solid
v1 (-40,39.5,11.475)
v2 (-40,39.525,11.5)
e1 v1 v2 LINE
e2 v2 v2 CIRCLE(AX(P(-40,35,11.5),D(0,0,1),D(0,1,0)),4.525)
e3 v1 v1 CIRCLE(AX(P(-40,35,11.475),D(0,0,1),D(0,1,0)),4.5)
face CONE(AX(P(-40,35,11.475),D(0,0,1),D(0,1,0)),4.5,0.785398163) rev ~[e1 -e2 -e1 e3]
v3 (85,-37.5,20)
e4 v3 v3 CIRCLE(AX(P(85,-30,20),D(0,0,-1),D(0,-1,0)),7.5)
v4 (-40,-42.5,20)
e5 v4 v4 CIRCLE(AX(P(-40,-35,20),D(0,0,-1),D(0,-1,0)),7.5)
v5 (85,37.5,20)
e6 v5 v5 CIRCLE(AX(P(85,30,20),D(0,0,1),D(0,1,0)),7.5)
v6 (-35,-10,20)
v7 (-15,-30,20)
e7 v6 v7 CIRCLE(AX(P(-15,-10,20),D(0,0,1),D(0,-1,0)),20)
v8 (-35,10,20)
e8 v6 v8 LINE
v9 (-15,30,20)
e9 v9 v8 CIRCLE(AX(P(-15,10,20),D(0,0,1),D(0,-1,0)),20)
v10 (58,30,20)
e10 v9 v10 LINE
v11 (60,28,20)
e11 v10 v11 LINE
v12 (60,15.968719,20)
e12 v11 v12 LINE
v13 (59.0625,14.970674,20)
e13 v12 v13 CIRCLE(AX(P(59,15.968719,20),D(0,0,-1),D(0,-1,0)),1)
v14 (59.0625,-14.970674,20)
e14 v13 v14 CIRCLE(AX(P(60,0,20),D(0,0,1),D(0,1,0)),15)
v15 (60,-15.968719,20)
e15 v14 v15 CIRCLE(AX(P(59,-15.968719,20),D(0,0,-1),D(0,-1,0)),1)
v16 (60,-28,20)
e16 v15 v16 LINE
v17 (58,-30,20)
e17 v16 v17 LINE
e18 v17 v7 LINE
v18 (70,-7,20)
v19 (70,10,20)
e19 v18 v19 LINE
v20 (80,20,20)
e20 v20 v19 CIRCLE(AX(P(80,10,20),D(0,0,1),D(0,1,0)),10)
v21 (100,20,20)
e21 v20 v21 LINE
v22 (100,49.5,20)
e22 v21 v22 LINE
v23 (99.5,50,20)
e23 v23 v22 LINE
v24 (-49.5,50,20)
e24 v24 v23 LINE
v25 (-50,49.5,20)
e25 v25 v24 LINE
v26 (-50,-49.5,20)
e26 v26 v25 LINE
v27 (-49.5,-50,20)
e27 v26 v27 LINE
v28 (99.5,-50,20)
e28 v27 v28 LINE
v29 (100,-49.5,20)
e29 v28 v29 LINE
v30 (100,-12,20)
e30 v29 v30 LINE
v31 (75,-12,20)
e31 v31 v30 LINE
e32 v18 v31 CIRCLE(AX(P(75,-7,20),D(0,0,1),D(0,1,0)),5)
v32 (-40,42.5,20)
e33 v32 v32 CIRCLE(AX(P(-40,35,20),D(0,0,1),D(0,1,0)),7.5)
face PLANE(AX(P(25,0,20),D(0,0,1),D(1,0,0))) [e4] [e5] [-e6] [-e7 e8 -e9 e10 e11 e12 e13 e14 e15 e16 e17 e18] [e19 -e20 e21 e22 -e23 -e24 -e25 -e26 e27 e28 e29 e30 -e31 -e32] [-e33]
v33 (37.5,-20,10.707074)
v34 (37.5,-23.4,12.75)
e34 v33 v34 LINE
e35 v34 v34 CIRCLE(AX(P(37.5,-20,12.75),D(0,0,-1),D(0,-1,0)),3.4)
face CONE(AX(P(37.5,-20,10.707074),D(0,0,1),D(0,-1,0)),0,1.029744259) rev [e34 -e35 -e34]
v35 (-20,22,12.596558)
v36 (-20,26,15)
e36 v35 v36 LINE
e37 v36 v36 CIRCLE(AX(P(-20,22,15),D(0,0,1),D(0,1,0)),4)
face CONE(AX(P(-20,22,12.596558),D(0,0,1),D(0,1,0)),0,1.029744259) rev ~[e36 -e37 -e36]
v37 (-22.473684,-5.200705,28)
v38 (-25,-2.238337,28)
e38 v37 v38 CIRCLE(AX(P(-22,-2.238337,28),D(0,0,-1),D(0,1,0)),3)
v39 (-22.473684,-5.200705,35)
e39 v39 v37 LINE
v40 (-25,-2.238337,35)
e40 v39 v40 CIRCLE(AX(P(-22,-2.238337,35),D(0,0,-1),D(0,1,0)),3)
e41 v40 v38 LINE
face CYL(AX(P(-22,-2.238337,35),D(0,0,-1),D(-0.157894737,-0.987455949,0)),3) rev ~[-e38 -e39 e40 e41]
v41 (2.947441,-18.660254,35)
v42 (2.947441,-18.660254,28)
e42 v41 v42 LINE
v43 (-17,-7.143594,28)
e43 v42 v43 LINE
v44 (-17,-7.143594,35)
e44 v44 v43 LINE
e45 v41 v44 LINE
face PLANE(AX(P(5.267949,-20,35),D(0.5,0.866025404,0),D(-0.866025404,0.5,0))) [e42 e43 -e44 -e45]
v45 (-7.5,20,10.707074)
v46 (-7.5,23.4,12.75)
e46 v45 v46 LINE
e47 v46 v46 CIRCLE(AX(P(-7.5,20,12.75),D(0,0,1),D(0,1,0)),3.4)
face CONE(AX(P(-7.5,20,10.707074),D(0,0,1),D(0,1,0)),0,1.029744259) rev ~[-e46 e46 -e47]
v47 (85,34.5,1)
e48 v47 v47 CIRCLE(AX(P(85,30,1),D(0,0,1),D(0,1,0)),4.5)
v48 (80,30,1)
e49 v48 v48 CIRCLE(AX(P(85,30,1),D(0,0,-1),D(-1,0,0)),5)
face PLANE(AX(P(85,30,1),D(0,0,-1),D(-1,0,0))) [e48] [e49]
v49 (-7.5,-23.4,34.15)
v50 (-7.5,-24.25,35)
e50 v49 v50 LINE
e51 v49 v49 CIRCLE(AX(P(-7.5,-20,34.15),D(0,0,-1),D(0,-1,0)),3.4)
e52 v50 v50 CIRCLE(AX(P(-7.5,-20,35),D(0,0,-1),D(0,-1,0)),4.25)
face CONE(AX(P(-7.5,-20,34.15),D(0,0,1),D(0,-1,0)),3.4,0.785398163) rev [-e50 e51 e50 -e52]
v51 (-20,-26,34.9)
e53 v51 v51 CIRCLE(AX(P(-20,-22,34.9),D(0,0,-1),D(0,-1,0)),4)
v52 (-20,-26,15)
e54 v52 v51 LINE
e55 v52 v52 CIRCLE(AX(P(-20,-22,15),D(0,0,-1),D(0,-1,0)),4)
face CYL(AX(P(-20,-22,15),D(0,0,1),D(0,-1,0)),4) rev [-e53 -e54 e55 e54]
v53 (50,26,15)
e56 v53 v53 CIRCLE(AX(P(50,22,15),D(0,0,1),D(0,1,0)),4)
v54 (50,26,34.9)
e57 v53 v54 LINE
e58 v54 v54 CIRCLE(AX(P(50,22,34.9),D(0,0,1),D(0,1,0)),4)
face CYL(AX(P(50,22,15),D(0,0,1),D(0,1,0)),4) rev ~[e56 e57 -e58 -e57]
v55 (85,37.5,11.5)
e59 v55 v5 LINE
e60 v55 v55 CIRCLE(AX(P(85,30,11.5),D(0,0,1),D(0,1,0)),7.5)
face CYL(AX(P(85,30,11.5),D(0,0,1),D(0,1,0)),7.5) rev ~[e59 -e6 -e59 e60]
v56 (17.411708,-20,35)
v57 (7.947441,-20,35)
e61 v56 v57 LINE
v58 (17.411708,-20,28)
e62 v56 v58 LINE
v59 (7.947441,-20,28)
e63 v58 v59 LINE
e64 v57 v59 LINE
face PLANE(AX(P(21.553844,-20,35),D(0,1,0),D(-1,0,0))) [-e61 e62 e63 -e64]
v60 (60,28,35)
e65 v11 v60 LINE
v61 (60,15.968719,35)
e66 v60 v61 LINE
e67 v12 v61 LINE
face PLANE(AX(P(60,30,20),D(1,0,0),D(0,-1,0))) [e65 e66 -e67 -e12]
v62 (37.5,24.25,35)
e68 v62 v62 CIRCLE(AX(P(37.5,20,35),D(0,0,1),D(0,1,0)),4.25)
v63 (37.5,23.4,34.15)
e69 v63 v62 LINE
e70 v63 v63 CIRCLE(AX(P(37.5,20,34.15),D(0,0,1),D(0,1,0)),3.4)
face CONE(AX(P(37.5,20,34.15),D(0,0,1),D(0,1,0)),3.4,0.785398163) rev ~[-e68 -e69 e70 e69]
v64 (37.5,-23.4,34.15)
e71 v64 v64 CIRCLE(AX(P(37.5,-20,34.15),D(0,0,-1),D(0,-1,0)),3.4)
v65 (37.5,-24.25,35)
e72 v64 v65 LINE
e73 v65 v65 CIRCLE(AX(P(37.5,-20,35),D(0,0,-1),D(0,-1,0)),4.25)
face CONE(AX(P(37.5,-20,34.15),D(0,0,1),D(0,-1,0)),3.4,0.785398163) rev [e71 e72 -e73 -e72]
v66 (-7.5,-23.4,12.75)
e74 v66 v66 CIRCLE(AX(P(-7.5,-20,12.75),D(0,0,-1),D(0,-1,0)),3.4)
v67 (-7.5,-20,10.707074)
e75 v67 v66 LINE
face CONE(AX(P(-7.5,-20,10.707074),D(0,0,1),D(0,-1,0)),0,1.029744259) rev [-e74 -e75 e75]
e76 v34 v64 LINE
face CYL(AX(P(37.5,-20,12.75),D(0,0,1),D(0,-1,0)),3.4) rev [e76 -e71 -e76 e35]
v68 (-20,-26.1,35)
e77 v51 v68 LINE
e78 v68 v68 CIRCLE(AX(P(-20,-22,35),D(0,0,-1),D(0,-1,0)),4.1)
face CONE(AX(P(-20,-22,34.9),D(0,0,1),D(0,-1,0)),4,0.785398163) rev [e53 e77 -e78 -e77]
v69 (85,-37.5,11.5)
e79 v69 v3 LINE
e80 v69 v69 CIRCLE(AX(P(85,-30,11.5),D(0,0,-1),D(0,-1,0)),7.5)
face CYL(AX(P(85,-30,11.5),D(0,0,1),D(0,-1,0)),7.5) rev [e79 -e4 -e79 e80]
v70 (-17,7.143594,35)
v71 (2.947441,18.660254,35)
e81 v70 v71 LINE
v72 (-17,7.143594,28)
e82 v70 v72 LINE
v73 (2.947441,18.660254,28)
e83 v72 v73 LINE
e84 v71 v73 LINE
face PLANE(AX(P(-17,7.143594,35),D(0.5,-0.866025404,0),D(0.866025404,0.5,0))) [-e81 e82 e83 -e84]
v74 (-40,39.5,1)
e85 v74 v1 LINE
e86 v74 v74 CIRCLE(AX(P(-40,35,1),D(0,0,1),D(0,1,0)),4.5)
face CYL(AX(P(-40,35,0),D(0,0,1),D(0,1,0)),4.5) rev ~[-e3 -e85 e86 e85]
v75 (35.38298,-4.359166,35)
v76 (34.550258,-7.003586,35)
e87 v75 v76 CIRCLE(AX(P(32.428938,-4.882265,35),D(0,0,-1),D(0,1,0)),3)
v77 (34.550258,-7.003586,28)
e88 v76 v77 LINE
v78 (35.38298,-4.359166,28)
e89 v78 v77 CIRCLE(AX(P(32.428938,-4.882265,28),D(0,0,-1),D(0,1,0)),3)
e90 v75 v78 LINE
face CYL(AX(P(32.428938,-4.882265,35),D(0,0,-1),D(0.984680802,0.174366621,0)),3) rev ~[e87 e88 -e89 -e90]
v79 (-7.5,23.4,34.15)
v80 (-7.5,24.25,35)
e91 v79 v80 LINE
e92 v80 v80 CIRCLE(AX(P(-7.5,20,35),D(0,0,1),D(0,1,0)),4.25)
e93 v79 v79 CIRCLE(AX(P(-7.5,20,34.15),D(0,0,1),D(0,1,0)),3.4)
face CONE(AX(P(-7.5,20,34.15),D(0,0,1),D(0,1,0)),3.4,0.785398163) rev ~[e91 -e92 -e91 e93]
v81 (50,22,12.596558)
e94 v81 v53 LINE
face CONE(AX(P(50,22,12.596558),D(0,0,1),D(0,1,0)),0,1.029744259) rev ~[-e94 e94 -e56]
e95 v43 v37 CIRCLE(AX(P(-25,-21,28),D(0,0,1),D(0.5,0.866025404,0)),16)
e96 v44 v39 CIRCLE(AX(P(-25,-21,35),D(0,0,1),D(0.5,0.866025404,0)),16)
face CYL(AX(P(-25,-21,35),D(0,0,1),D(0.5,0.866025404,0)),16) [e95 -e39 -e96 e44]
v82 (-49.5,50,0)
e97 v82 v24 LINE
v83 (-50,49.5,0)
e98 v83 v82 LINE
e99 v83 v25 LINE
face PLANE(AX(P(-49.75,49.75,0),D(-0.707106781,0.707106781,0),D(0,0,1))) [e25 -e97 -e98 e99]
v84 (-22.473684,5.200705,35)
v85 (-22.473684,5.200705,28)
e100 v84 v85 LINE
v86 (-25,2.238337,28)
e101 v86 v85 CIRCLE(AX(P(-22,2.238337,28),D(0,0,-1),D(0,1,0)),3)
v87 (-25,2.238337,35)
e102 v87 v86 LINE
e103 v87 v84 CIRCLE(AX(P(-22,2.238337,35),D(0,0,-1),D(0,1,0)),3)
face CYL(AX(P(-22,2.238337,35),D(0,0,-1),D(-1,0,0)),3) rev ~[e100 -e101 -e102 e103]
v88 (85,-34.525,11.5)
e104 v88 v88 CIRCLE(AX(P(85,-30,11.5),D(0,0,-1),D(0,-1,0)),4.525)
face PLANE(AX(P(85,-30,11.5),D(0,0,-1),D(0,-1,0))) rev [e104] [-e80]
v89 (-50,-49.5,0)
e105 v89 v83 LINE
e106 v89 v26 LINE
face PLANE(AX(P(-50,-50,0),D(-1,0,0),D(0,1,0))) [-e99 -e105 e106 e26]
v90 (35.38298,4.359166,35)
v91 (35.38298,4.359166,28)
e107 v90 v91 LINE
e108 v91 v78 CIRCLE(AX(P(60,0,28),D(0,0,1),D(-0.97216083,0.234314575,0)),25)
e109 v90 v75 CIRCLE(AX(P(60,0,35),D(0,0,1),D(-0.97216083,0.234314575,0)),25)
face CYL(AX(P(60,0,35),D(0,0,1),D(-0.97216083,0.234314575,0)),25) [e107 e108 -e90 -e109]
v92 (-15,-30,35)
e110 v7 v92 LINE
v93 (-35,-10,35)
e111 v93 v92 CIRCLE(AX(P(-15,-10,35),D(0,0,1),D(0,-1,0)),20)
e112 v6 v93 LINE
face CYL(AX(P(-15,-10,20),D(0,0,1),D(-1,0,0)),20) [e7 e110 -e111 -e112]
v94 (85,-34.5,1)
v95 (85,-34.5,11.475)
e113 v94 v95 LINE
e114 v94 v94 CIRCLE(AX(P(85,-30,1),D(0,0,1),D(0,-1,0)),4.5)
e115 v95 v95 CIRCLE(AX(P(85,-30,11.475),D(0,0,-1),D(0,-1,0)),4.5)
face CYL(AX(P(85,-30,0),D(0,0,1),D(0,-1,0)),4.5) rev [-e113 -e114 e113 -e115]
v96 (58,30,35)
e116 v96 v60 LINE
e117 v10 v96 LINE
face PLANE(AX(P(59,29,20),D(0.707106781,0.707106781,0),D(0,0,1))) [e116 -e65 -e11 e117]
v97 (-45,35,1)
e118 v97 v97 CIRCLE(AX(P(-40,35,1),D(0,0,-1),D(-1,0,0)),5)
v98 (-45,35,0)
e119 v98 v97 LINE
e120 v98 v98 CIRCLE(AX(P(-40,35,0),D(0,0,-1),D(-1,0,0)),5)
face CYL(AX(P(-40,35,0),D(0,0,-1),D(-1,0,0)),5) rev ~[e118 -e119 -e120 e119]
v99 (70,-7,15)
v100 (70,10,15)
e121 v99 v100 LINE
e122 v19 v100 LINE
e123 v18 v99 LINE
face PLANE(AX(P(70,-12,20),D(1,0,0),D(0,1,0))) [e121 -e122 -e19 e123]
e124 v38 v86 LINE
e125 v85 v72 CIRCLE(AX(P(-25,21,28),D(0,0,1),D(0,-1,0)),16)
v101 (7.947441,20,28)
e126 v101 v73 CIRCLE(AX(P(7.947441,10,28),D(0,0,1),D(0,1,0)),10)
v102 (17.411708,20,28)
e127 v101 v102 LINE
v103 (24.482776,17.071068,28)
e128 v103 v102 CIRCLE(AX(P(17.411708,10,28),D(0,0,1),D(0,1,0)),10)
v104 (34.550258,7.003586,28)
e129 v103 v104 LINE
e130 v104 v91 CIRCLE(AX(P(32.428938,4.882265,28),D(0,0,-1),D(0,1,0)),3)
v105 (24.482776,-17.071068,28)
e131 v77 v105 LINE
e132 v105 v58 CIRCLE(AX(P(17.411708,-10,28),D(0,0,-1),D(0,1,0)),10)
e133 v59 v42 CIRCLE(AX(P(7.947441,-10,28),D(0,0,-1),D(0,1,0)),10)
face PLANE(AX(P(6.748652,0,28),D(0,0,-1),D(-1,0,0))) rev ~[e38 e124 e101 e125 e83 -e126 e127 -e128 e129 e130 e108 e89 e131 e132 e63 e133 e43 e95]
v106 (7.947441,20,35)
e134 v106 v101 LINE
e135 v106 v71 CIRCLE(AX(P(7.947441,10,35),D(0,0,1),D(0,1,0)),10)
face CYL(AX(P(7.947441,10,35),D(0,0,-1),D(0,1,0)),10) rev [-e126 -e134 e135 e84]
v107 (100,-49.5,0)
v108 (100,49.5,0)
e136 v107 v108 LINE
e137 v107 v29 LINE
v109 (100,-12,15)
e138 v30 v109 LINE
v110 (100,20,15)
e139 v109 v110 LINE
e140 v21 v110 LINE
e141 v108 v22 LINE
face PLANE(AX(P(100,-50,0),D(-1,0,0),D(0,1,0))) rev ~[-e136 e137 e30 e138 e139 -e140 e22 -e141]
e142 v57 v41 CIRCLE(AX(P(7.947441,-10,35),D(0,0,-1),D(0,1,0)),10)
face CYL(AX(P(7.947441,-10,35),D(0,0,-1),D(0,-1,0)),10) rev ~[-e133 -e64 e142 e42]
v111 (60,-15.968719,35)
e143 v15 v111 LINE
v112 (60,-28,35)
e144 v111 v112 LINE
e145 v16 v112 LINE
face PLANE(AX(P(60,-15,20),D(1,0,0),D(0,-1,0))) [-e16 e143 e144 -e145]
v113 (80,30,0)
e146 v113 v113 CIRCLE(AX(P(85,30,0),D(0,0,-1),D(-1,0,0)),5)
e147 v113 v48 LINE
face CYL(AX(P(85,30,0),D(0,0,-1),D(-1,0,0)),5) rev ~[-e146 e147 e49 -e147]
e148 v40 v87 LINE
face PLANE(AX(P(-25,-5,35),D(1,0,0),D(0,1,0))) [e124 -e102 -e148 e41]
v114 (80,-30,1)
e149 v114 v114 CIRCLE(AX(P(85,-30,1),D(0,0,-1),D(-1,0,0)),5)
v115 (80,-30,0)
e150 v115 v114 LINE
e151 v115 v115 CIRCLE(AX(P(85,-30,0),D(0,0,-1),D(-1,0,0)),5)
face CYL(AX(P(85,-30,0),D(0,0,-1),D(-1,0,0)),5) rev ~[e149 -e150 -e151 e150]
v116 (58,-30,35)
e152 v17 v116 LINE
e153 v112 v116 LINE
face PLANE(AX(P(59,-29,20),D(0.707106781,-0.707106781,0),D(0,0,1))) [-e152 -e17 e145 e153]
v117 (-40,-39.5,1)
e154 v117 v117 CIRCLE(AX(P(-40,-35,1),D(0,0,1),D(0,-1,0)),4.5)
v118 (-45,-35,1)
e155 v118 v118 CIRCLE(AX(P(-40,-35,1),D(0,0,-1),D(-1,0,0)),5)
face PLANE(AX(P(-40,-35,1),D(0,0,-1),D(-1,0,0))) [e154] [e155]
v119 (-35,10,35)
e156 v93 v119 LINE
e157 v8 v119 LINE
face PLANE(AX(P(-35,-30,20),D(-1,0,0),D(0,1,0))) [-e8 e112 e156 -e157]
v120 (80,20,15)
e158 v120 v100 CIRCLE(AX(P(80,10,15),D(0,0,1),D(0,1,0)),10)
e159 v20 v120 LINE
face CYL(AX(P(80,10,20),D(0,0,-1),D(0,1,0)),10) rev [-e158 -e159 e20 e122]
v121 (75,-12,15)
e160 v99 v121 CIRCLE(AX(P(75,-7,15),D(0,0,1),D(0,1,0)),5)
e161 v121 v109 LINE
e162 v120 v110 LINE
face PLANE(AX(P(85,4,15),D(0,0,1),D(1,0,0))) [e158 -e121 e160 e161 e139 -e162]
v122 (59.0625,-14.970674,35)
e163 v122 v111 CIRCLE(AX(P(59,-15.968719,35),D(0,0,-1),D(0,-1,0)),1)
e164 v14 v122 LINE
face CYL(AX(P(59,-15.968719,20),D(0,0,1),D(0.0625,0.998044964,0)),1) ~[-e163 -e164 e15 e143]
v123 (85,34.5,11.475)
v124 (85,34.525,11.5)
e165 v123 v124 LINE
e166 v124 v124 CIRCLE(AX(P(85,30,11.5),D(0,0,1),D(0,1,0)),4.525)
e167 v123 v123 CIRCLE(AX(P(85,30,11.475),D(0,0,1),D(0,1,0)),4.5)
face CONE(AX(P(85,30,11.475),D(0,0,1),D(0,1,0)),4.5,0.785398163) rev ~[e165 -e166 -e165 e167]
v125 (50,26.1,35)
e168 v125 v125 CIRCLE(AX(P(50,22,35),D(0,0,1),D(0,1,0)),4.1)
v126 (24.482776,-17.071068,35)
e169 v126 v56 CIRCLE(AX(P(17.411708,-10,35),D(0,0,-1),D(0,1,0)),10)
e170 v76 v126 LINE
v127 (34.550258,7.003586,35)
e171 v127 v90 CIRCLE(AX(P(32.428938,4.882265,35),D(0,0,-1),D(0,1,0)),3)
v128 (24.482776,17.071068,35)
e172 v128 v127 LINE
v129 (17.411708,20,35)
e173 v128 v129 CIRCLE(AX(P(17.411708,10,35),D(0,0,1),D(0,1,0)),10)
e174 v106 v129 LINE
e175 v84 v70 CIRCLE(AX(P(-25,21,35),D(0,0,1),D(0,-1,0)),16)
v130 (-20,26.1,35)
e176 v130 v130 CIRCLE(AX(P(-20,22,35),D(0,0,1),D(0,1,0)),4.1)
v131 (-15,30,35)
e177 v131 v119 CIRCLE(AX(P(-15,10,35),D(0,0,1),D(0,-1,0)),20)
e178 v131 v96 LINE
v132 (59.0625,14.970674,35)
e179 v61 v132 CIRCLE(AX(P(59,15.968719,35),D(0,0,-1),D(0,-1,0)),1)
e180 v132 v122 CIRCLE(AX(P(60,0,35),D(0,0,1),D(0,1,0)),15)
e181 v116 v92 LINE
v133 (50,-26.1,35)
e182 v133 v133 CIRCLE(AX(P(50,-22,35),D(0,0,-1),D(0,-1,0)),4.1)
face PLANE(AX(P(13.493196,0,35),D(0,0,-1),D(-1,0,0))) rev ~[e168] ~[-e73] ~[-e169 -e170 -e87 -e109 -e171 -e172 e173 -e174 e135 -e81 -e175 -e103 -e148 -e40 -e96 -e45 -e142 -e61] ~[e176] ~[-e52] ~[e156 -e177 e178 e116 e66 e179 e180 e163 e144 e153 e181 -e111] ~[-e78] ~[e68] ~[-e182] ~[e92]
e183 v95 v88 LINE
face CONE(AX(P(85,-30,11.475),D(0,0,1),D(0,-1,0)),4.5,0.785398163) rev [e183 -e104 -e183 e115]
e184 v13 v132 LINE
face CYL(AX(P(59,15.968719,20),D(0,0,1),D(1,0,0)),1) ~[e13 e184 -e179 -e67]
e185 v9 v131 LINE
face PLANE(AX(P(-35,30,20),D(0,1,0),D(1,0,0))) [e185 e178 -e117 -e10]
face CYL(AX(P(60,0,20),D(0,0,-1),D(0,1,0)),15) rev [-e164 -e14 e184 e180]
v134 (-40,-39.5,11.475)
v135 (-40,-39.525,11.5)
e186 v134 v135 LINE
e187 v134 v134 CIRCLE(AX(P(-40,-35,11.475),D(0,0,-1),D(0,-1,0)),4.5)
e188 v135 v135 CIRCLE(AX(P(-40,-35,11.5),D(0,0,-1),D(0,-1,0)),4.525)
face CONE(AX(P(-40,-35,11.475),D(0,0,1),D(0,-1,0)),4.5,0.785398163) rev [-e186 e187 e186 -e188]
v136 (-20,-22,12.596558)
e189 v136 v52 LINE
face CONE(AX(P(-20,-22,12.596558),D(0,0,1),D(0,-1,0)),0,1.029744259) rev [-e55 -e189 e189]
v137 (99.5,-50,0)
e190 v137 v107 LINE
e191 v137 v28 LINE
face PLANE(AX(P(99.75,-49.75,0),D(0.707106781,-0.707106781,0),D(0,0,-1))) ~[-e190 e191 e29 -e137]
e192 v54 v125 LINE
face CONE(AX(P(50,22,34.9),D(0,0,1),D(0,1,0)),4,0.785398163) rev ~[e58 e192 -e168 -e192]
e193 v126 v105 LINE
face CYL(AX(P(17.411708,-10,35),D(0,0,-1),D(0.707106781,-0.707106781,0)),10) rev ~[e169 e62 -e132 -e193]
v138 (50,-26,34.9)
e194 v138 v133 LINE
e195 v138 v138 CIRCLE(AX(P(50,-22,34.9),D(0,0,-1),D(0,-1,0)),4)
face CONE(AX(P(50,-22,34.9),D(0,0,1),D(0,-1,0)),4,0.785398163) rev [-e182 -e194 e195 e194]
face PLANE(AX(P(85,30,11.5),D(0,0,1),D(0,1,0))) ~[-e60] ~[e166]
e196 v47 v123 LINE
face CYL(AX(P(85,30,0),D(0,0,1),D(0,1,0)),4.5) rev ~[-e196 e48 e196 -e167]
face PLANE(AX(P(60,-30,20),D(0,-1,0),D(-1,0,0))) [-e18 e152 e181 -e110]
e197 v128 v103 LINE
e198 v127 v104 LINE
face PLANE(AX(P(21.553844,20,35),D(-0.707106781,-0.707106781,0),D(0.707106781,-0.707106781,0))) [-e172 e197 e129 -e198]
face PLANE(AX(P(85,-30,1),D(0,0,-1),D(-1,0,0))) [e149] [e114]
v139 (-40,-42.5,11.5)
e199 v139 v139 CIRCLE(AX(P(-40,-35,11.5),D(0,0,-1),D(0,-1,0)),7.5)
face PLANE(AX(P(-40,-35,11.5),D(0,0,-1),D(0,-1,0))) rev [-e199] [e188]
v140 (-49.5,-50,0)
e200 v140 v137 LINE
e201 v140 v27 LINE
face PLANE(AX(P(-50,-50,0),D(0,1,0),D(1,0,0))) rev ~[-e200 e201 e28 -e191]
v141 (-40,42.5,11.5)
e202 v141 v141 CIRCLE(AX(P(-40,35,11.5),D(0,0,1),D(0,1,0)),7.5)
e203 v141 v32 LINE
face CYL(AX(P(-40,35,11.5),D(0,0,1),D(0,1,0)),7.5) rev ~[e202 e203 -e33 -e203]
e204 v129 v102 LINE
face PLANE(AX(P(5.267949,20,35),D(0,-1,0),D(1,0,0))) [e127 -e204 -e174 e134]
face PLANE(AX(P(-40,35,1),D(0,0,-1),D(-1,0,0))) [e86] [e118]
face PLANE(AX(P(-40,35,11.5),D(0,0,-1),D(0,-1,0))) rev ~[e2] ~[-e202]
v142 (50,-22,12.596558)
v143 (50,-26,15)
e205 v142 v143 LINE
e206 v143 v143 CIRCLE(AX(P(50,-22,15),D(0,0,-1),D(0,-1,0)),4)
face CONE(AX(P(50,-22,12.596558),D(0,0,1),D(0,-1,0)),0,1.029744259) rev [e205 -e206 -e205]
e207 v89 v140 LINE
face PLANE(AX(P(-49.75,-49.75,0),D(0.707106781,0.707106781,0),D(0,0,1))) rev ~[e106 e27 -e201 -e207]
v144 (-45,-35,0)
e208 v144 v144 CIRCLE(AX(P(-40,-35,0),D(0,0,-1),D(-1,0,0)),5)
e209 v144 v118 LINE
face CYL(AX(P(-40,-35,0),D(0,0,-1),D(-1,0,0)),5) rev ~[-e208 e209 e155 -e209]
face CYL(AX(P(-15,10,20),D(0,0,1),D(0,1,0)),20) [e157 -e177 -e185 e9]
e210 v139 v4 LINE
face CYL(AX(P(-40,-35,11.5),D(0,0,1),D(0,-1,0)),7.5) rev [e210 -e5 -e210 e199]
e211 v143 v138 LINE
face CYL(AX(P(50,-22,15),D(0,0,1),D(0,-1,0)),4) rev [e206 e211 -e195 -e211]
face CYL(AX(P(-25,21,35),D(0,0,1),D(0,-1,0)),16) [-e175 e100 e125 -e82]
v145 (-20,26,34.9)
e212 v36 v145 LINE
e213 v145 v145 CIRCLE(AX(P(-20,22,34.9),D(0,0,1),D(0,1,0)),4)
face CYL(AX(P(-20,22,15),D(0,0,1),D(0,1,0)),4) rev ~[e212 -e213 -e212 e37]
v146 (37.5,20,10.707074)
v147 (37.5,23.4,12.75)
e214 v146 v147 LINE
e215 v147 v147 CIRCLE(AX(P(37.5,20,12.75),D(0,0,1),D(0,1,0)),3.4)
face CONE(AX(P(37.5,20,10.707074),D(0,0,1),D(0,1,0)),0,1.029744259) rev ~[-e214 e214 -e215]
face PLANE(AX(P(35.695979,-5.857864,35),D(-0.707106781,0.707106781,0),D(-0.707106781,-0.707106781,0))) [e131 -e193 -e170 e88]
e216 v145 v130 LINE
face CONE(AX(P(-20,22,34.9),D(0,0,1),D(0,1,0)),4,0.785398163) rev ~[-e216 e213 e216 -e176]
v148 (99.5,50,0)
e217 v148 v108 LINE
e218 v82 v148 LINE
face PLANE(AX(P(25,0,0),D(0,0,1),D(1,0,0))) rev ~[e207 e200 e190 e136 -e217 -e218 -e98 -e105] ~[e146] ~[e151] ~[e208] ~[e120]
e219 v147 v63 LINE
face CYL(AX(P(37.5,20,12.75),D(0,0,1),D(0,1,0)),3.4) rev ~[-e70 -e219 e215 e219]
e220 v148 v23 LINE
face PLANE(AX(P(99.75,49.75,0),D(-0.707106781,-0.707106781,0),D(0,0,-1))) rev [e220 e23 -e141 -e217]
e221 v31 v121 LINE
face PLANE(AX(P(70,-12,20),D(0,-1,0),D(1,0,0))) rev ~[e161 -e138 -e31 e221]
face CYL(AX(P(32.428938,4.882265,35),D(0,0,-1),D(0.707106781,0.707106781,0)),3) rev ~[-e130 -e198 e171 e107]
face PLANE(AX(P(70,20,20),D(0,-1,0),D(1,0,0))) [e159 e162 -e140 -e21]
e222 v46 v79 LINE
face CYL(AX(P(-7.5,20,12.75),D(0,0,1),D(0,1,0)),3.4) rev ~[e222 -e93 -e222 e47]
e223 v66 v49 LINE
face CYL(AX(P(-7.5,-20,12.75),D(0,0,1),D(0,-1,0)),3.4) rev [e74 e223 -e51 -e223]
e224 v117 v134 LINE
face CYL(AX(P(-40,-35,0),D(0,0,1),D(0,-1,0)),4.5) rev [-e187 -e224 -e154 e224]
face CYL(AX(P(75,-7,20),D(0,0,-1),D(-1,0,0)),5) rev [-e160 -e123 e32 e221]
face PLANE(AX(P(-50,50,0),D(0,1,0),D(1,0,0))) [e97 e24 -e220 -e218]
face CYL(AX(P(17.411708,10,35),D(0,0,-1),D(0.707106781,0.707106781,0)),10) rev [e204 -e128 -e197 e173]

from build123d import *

# Parameters (mm, degrees)
SKETCH1_W                                    = 150
SKETCH1_H                                    = 100
EXTRUDE1_DEPTH                               = 20
EXTRUDE2_DEPTH                               = 15
FILLET1_R                                    = 20
CBORE_FOR_M8_HEX_SOCKET_HEAD_CAP_SCR_2_COUNT = 2
CBORE_FOR_M8_HEX_SOCKET_HEAD_CAP_SCR_2_PITCH = 125.099960032
M8_TAPPED_HOLE1_AT_2_COUNT                   = 2
M8_TAPPED_HOLE1_AT_2_PITCH                   = 45
F_8_0_8_DIAMETER_HOLE1_AT_2_COUNT            = 2
F_8_0_8_DIAMETER_HOLE1_AT_2_PITCH            = 70
EXTRUDE3_DEPTH                               = 7
FILLET2_R                                    = 3
FILLET3_R                                    = 10
CHAMFER1_SIZE                                = 0.5
CHAMFER2_SIZE                                = 2
FILLET4_R                                    = 1
SKETCH10_W                                   = 30
SKETCH10_H                                   = 32
EXTRUDE4_DEPTH                               = 5
FILLET5_R                                    = 10
FILLET6_R                                    = 5
SKETCH11_R                                   = 5
EXTRUDE5_DEPTH                               = 1


with BuildPart() as part:
    # Sketch1 → Extrude1 (new body)
    with BuildSketch(Plane.XY):
        with Locations((25, 0)):
            Rectangle(SKETCH1_W, SKETCH1_H)
    extrude(amount=EXTRUDE1_DEPTH)

    # Sketch2 → Extrude2 (add)
    with BuildSketch(Plane.XY.offset(20)):
        with BuildLine():
            Line((60, -15), (60, -30))
            Line((60, -30), (-35, -30))
            Line((-35, -30), (-35, 30))
            Line((-35, 30), (60, 30))
            Line((60, 30), (60, 15))
            ThreePointArc((60, 15), (45, 0), (60, -15))
        make_face()
    extrude(amount=EXTRUDE2_DEPTH)

    # Fillet1
    fillet1_edges = [part.edges().sort_by_distance(p)[0] for p in [
        (-35, 30, 27.5),
        (-35, -30, 27.5),
    ]]
    fillet(fillet1_edges, radius=FILLET1_R)

    # Sketch4 → CBORE for M8 Hex Socket Head Cap Screw1 (revolve, cut)
    with BuildSketch(Plane(origin=(-40, -35, 20), x_dir=(0, -1, 0), z_dir=(1, 0, 0))):
        Polygon((0, 0), (0, 20), (4.5, 20), (4.5, 8.525), (4.525, 8.5), (7.5, 8.5), (7.5, 0), align=None)
    cbore_for_m8_hex_socket_head_cap_screw1 = revolve(axis=Axis((-40, -35, 26.35), (0, 0, -1)), mode=Mode.SUBTRACT)

    # CBORE for M8 Hex Socket Head Cap Scr 2: CBORE for M8 Hex Socket Head Cap Screw1 ×2
    with Locations(*[Vector(0.9992009587217895, 0.03996803834887156, 0) * (i * CBORE_FOR_M8_HEX_SOCKET_HEAD_CAP_SCR_2_PITCH) for i in range(1, CBORE_FOR_M8_HEX_SOCKET_HEAD_CAP_SCR_2_COUNT)]):
        add(cbore_for_m8_hex_socket_head_cap_screw1, mode=Mode.SUBTRACT)

    # Sketch7 → M8 Tapped Hole1 (revolve, cut)
    with BuildSketch(Plane(origin=(-7.5, -20, 35), x_dir=(0, -1, 0), z_dir=(1, 0, 0))):
        Polygon((0, 0), (0, 24.292926105), (3.4, 22.25), (3.4, 0.85), (4.25, 0), align=None)
    m8_tapped_hole1 = revolve(axis=Axis((-7.5, -20, 41.35), (0, 0, -1)), mode=Mode.SUBTRACT)

    # M8 Tapped Hole1 at 2: M8 Tapped Hole1 ×2
    with Locations(*[(i * M8_TAPPED_HOLE1_AT_2_PITCH, 0, 0) for i in range(1, M8_TAPPED_HOLE1_AT_2_COUNT)]):
        add(m8_tapped_hole1, mode=Mode.SUBTRACT)

    # Sketch8 → Ø8.0 (8) Diameter Hole1 (revolve, cut)
    with BuildSketch(Plane(origin=(-20, -22, 35), x_dir=(0, -1, 0), z_dir=(1, 0, 0))):
        Polygon((0, 0), (0, 22.403442476), (4, 20), (4, 0.1), (4.1, 0), align=None)
    f_8_0_8_diameter_hole1 = revolve(axis=Axis((-20, -22, 41.35), (0, 0, -1)), mode=Mode.SUBTRACT)

    # Ø8.0 (8) Diameter Hole1 at 2: Ø8.0 (8) Diameter Hole1 ×2
    with Locations(*[(i * F_8_0_8_DIAMETER_HOLE1_AT_2_PITCH, 0, 0) for i in range(1, F_8_0_8_DIAMETER_HOLE1_AT_2_COUNT)]):
        add(f_8_0_8_diameter_hole1, mode=Mode.SUBTRACT)

    # Mirror1: CBORE for M8 Hex Socket Head Cap Screw1, M8 Tapped Hole1, Ø8.0 (8) Diameter Hole1 across plane
    add(cbore_for_m8_hex_socket_head_cap_screw1.mirror(Plane.ZX), mode=Mode.SUBTRACT)
    add(m8_tapped_hole1.mirror(Plane.ZX), mode=Mode.SUBTRACT)
    add(f_8_0_8_diameter_hole1.mirror(Plane.ZX), mode=Mode.SUBTRACT)

    # Mirror1 copy 1 sketch → Mirror1 copy 1 (revolve, cut)
    with BuildSketch(Plane(origin=(85, 30, 20), x_dir=(0, 1, 0), z_dir=(1, 0, 0))):
        Polygon((0, 0), (0, -20), (4.5, -20), (4.5, -8.525), (4.525, -8.5), (7.5, -8.5), (7.5, 0), align=None)
    revolve(axis=Axis((85, 30, 26.35), (0, 0, 1)), mode=Mode.SUBTRACT)

    # Mirror1 copy 2 sketch → Mirror1 copy 2 (revolve, cut)
    with BuildSketch(Plane(origin=(37.5, 20, 35), x_dir=(0, 1, 0), z_dir=(1, 0, 0))):
        Polygon((0, 0), (0, -24.292926105), (3.4, -22.25), (3.4, -0.85), (4.25, 0), align=None)
    revolve(axis=Axis((37.5, 20, 41.35), (0, 0, 1)), mode=Mode.SUBTRACT)

    # Mirror1 copy 3 sketch → Mirror1 copy 3 (revolve, cut)
    with BuildSketch(Plane(origin=(50, 22, 35), x_dir=(0, 1, 0), z_dir=(1, 0, 0))):
        Polygon((0, 0), (0, -22.403442476), (4, -20), (4, -0.1), (4.1, 0), align=None)
    revolve(axis=Axis((50, 22, 41.35), (0, 0, 1)), mode=Mode.SUBTRACT)

    # Sketch9 → Extrude3 (cut)
    with BuildSketch(Plane.XY.offset(35)):
        with BuildLine():
            Line((21.553843619, 20), (35.695979243, 5.857864376))
            ThreePointArc((35.695979243, 5.857864376), (35, 0), (35.695979243, -5.857864376))
            Line((35.695979243, -5.857864376), (21.553843619, -20))
            Line((21.553843619, -20), (5.267949192, -20))
            Line((5.267949192, -20), (-17, -7.143593539))
            ThreePointArc((-17, -7.143593539), (-20.858895278, -5.545186779), (-25, -5))
            Line((-25, -5), (-25, 5))
            ThreePointArc((-25, 5), (-20.858895278, 5.545186779), (-17, 7.143593539))
            Line((-17, 7.143593539), (5.267949192, 20))
            Line((5.267949192, 20), (21.553843619, 20))
        make_face()
    extrude(amount=-EXTRUDE3_DEPTH, mode=Mode.SUBTRACT)

    # Fillet2
    fillet2_edges = [part.edges().sort_by_distance(p)[0] for p in [
        (-25, -5, 31.5),
        (-25, 5, 31.5),
        (35.695979243, 5.857864376, 31.5),
        (35.695979243, -5.857864376, 31.5),
    ]]
    fillet(fillet2_edges, radius=FILLET2_R)

    # Fillet3
    fillet3_edges = [part.edges().sort_by_distance(p)[0] for p in [
        (5.267949192, 20, 31.5),
        (21.553843619, 20, 31.5),
        (21.553843619, -20, 31.5),
        (5.267949192, -20, 31.5),
    ]]
    fillet(fillet3_edges, radius=FILLET3_R)

    # Chamfer1
    chamfer1_edges = [part.edges().sort_by_distance(p)[0] for p in [
        (-50, 50, 10),
        (100, 50, 10),
        (100, -50, 10),
        (-50, -50, 10),
    ]]
    chamfer(chamfer1_edges, length=CHAMFER1_SIZE)

    # Chamfer2
    chamfer2_edges = [part.edges().sort_by_distance(p)[0] for p in [
        (60, -30, 27.5),
        (60, 30, 27.5),
    ]]
    chamfer(chamfer2_edges, length=CHAMFER2_SIZE)

    # Fillet4
    fillet4_edges = [part.edges().sort_by_distance(p)[0] for p in [
        (60, -15, 27.5),
        (60, 15, 27.5),
    ]]
    fillet(fillet4_edges, radius=FILLET4_R)

    # Sketch10 → Extrude4 (cut)
    with BuildSketch(Plane.XY.offset(20)):
        with Locations((85, 4)):
            Rectangle(SKETCH10_W, SKETCH10_H)
    extrude(amount=-EXTRUDE4_DEPTH, mode=Mode.SUBTRACT)

    # Fillet5
    fillet5_edges = [part.edges().sort_by_distance(p)[0] for p in [
        (70, 20, 17.5),
    ]]
    fillet(fillet5_edges, radius=FILLET5_R)

    # Fillet6
    fillet6_edges = [part.edges().sort_by_distance(p)[0] for p in [
        (70, -12, 17.5),
    ]]
    fillet(fillet6_edges, radius=FILLET6_R)

    # Sketch11 → Extrude5 (cut)
    with BuildSketch(Plane(origin=(0, 0, 0), x_dir=(-1, 0, 0), z_dir=(0, 0, -1))):
        with Locations((40, -35)):
            Circle(SKETCH11_R)
        with Locations((-85, -30)):
            Circle(SKETCH11_R)
        with Locations((-85, 30)):
            Circle(SKETCH11_R)
        with Locations((40, 35)):
            Circle(SKETCH11_R)
    extrude(amount=-EXTRUDE5_DEPTH, mode=Mode.SUBTRACT)


solid = part.part
